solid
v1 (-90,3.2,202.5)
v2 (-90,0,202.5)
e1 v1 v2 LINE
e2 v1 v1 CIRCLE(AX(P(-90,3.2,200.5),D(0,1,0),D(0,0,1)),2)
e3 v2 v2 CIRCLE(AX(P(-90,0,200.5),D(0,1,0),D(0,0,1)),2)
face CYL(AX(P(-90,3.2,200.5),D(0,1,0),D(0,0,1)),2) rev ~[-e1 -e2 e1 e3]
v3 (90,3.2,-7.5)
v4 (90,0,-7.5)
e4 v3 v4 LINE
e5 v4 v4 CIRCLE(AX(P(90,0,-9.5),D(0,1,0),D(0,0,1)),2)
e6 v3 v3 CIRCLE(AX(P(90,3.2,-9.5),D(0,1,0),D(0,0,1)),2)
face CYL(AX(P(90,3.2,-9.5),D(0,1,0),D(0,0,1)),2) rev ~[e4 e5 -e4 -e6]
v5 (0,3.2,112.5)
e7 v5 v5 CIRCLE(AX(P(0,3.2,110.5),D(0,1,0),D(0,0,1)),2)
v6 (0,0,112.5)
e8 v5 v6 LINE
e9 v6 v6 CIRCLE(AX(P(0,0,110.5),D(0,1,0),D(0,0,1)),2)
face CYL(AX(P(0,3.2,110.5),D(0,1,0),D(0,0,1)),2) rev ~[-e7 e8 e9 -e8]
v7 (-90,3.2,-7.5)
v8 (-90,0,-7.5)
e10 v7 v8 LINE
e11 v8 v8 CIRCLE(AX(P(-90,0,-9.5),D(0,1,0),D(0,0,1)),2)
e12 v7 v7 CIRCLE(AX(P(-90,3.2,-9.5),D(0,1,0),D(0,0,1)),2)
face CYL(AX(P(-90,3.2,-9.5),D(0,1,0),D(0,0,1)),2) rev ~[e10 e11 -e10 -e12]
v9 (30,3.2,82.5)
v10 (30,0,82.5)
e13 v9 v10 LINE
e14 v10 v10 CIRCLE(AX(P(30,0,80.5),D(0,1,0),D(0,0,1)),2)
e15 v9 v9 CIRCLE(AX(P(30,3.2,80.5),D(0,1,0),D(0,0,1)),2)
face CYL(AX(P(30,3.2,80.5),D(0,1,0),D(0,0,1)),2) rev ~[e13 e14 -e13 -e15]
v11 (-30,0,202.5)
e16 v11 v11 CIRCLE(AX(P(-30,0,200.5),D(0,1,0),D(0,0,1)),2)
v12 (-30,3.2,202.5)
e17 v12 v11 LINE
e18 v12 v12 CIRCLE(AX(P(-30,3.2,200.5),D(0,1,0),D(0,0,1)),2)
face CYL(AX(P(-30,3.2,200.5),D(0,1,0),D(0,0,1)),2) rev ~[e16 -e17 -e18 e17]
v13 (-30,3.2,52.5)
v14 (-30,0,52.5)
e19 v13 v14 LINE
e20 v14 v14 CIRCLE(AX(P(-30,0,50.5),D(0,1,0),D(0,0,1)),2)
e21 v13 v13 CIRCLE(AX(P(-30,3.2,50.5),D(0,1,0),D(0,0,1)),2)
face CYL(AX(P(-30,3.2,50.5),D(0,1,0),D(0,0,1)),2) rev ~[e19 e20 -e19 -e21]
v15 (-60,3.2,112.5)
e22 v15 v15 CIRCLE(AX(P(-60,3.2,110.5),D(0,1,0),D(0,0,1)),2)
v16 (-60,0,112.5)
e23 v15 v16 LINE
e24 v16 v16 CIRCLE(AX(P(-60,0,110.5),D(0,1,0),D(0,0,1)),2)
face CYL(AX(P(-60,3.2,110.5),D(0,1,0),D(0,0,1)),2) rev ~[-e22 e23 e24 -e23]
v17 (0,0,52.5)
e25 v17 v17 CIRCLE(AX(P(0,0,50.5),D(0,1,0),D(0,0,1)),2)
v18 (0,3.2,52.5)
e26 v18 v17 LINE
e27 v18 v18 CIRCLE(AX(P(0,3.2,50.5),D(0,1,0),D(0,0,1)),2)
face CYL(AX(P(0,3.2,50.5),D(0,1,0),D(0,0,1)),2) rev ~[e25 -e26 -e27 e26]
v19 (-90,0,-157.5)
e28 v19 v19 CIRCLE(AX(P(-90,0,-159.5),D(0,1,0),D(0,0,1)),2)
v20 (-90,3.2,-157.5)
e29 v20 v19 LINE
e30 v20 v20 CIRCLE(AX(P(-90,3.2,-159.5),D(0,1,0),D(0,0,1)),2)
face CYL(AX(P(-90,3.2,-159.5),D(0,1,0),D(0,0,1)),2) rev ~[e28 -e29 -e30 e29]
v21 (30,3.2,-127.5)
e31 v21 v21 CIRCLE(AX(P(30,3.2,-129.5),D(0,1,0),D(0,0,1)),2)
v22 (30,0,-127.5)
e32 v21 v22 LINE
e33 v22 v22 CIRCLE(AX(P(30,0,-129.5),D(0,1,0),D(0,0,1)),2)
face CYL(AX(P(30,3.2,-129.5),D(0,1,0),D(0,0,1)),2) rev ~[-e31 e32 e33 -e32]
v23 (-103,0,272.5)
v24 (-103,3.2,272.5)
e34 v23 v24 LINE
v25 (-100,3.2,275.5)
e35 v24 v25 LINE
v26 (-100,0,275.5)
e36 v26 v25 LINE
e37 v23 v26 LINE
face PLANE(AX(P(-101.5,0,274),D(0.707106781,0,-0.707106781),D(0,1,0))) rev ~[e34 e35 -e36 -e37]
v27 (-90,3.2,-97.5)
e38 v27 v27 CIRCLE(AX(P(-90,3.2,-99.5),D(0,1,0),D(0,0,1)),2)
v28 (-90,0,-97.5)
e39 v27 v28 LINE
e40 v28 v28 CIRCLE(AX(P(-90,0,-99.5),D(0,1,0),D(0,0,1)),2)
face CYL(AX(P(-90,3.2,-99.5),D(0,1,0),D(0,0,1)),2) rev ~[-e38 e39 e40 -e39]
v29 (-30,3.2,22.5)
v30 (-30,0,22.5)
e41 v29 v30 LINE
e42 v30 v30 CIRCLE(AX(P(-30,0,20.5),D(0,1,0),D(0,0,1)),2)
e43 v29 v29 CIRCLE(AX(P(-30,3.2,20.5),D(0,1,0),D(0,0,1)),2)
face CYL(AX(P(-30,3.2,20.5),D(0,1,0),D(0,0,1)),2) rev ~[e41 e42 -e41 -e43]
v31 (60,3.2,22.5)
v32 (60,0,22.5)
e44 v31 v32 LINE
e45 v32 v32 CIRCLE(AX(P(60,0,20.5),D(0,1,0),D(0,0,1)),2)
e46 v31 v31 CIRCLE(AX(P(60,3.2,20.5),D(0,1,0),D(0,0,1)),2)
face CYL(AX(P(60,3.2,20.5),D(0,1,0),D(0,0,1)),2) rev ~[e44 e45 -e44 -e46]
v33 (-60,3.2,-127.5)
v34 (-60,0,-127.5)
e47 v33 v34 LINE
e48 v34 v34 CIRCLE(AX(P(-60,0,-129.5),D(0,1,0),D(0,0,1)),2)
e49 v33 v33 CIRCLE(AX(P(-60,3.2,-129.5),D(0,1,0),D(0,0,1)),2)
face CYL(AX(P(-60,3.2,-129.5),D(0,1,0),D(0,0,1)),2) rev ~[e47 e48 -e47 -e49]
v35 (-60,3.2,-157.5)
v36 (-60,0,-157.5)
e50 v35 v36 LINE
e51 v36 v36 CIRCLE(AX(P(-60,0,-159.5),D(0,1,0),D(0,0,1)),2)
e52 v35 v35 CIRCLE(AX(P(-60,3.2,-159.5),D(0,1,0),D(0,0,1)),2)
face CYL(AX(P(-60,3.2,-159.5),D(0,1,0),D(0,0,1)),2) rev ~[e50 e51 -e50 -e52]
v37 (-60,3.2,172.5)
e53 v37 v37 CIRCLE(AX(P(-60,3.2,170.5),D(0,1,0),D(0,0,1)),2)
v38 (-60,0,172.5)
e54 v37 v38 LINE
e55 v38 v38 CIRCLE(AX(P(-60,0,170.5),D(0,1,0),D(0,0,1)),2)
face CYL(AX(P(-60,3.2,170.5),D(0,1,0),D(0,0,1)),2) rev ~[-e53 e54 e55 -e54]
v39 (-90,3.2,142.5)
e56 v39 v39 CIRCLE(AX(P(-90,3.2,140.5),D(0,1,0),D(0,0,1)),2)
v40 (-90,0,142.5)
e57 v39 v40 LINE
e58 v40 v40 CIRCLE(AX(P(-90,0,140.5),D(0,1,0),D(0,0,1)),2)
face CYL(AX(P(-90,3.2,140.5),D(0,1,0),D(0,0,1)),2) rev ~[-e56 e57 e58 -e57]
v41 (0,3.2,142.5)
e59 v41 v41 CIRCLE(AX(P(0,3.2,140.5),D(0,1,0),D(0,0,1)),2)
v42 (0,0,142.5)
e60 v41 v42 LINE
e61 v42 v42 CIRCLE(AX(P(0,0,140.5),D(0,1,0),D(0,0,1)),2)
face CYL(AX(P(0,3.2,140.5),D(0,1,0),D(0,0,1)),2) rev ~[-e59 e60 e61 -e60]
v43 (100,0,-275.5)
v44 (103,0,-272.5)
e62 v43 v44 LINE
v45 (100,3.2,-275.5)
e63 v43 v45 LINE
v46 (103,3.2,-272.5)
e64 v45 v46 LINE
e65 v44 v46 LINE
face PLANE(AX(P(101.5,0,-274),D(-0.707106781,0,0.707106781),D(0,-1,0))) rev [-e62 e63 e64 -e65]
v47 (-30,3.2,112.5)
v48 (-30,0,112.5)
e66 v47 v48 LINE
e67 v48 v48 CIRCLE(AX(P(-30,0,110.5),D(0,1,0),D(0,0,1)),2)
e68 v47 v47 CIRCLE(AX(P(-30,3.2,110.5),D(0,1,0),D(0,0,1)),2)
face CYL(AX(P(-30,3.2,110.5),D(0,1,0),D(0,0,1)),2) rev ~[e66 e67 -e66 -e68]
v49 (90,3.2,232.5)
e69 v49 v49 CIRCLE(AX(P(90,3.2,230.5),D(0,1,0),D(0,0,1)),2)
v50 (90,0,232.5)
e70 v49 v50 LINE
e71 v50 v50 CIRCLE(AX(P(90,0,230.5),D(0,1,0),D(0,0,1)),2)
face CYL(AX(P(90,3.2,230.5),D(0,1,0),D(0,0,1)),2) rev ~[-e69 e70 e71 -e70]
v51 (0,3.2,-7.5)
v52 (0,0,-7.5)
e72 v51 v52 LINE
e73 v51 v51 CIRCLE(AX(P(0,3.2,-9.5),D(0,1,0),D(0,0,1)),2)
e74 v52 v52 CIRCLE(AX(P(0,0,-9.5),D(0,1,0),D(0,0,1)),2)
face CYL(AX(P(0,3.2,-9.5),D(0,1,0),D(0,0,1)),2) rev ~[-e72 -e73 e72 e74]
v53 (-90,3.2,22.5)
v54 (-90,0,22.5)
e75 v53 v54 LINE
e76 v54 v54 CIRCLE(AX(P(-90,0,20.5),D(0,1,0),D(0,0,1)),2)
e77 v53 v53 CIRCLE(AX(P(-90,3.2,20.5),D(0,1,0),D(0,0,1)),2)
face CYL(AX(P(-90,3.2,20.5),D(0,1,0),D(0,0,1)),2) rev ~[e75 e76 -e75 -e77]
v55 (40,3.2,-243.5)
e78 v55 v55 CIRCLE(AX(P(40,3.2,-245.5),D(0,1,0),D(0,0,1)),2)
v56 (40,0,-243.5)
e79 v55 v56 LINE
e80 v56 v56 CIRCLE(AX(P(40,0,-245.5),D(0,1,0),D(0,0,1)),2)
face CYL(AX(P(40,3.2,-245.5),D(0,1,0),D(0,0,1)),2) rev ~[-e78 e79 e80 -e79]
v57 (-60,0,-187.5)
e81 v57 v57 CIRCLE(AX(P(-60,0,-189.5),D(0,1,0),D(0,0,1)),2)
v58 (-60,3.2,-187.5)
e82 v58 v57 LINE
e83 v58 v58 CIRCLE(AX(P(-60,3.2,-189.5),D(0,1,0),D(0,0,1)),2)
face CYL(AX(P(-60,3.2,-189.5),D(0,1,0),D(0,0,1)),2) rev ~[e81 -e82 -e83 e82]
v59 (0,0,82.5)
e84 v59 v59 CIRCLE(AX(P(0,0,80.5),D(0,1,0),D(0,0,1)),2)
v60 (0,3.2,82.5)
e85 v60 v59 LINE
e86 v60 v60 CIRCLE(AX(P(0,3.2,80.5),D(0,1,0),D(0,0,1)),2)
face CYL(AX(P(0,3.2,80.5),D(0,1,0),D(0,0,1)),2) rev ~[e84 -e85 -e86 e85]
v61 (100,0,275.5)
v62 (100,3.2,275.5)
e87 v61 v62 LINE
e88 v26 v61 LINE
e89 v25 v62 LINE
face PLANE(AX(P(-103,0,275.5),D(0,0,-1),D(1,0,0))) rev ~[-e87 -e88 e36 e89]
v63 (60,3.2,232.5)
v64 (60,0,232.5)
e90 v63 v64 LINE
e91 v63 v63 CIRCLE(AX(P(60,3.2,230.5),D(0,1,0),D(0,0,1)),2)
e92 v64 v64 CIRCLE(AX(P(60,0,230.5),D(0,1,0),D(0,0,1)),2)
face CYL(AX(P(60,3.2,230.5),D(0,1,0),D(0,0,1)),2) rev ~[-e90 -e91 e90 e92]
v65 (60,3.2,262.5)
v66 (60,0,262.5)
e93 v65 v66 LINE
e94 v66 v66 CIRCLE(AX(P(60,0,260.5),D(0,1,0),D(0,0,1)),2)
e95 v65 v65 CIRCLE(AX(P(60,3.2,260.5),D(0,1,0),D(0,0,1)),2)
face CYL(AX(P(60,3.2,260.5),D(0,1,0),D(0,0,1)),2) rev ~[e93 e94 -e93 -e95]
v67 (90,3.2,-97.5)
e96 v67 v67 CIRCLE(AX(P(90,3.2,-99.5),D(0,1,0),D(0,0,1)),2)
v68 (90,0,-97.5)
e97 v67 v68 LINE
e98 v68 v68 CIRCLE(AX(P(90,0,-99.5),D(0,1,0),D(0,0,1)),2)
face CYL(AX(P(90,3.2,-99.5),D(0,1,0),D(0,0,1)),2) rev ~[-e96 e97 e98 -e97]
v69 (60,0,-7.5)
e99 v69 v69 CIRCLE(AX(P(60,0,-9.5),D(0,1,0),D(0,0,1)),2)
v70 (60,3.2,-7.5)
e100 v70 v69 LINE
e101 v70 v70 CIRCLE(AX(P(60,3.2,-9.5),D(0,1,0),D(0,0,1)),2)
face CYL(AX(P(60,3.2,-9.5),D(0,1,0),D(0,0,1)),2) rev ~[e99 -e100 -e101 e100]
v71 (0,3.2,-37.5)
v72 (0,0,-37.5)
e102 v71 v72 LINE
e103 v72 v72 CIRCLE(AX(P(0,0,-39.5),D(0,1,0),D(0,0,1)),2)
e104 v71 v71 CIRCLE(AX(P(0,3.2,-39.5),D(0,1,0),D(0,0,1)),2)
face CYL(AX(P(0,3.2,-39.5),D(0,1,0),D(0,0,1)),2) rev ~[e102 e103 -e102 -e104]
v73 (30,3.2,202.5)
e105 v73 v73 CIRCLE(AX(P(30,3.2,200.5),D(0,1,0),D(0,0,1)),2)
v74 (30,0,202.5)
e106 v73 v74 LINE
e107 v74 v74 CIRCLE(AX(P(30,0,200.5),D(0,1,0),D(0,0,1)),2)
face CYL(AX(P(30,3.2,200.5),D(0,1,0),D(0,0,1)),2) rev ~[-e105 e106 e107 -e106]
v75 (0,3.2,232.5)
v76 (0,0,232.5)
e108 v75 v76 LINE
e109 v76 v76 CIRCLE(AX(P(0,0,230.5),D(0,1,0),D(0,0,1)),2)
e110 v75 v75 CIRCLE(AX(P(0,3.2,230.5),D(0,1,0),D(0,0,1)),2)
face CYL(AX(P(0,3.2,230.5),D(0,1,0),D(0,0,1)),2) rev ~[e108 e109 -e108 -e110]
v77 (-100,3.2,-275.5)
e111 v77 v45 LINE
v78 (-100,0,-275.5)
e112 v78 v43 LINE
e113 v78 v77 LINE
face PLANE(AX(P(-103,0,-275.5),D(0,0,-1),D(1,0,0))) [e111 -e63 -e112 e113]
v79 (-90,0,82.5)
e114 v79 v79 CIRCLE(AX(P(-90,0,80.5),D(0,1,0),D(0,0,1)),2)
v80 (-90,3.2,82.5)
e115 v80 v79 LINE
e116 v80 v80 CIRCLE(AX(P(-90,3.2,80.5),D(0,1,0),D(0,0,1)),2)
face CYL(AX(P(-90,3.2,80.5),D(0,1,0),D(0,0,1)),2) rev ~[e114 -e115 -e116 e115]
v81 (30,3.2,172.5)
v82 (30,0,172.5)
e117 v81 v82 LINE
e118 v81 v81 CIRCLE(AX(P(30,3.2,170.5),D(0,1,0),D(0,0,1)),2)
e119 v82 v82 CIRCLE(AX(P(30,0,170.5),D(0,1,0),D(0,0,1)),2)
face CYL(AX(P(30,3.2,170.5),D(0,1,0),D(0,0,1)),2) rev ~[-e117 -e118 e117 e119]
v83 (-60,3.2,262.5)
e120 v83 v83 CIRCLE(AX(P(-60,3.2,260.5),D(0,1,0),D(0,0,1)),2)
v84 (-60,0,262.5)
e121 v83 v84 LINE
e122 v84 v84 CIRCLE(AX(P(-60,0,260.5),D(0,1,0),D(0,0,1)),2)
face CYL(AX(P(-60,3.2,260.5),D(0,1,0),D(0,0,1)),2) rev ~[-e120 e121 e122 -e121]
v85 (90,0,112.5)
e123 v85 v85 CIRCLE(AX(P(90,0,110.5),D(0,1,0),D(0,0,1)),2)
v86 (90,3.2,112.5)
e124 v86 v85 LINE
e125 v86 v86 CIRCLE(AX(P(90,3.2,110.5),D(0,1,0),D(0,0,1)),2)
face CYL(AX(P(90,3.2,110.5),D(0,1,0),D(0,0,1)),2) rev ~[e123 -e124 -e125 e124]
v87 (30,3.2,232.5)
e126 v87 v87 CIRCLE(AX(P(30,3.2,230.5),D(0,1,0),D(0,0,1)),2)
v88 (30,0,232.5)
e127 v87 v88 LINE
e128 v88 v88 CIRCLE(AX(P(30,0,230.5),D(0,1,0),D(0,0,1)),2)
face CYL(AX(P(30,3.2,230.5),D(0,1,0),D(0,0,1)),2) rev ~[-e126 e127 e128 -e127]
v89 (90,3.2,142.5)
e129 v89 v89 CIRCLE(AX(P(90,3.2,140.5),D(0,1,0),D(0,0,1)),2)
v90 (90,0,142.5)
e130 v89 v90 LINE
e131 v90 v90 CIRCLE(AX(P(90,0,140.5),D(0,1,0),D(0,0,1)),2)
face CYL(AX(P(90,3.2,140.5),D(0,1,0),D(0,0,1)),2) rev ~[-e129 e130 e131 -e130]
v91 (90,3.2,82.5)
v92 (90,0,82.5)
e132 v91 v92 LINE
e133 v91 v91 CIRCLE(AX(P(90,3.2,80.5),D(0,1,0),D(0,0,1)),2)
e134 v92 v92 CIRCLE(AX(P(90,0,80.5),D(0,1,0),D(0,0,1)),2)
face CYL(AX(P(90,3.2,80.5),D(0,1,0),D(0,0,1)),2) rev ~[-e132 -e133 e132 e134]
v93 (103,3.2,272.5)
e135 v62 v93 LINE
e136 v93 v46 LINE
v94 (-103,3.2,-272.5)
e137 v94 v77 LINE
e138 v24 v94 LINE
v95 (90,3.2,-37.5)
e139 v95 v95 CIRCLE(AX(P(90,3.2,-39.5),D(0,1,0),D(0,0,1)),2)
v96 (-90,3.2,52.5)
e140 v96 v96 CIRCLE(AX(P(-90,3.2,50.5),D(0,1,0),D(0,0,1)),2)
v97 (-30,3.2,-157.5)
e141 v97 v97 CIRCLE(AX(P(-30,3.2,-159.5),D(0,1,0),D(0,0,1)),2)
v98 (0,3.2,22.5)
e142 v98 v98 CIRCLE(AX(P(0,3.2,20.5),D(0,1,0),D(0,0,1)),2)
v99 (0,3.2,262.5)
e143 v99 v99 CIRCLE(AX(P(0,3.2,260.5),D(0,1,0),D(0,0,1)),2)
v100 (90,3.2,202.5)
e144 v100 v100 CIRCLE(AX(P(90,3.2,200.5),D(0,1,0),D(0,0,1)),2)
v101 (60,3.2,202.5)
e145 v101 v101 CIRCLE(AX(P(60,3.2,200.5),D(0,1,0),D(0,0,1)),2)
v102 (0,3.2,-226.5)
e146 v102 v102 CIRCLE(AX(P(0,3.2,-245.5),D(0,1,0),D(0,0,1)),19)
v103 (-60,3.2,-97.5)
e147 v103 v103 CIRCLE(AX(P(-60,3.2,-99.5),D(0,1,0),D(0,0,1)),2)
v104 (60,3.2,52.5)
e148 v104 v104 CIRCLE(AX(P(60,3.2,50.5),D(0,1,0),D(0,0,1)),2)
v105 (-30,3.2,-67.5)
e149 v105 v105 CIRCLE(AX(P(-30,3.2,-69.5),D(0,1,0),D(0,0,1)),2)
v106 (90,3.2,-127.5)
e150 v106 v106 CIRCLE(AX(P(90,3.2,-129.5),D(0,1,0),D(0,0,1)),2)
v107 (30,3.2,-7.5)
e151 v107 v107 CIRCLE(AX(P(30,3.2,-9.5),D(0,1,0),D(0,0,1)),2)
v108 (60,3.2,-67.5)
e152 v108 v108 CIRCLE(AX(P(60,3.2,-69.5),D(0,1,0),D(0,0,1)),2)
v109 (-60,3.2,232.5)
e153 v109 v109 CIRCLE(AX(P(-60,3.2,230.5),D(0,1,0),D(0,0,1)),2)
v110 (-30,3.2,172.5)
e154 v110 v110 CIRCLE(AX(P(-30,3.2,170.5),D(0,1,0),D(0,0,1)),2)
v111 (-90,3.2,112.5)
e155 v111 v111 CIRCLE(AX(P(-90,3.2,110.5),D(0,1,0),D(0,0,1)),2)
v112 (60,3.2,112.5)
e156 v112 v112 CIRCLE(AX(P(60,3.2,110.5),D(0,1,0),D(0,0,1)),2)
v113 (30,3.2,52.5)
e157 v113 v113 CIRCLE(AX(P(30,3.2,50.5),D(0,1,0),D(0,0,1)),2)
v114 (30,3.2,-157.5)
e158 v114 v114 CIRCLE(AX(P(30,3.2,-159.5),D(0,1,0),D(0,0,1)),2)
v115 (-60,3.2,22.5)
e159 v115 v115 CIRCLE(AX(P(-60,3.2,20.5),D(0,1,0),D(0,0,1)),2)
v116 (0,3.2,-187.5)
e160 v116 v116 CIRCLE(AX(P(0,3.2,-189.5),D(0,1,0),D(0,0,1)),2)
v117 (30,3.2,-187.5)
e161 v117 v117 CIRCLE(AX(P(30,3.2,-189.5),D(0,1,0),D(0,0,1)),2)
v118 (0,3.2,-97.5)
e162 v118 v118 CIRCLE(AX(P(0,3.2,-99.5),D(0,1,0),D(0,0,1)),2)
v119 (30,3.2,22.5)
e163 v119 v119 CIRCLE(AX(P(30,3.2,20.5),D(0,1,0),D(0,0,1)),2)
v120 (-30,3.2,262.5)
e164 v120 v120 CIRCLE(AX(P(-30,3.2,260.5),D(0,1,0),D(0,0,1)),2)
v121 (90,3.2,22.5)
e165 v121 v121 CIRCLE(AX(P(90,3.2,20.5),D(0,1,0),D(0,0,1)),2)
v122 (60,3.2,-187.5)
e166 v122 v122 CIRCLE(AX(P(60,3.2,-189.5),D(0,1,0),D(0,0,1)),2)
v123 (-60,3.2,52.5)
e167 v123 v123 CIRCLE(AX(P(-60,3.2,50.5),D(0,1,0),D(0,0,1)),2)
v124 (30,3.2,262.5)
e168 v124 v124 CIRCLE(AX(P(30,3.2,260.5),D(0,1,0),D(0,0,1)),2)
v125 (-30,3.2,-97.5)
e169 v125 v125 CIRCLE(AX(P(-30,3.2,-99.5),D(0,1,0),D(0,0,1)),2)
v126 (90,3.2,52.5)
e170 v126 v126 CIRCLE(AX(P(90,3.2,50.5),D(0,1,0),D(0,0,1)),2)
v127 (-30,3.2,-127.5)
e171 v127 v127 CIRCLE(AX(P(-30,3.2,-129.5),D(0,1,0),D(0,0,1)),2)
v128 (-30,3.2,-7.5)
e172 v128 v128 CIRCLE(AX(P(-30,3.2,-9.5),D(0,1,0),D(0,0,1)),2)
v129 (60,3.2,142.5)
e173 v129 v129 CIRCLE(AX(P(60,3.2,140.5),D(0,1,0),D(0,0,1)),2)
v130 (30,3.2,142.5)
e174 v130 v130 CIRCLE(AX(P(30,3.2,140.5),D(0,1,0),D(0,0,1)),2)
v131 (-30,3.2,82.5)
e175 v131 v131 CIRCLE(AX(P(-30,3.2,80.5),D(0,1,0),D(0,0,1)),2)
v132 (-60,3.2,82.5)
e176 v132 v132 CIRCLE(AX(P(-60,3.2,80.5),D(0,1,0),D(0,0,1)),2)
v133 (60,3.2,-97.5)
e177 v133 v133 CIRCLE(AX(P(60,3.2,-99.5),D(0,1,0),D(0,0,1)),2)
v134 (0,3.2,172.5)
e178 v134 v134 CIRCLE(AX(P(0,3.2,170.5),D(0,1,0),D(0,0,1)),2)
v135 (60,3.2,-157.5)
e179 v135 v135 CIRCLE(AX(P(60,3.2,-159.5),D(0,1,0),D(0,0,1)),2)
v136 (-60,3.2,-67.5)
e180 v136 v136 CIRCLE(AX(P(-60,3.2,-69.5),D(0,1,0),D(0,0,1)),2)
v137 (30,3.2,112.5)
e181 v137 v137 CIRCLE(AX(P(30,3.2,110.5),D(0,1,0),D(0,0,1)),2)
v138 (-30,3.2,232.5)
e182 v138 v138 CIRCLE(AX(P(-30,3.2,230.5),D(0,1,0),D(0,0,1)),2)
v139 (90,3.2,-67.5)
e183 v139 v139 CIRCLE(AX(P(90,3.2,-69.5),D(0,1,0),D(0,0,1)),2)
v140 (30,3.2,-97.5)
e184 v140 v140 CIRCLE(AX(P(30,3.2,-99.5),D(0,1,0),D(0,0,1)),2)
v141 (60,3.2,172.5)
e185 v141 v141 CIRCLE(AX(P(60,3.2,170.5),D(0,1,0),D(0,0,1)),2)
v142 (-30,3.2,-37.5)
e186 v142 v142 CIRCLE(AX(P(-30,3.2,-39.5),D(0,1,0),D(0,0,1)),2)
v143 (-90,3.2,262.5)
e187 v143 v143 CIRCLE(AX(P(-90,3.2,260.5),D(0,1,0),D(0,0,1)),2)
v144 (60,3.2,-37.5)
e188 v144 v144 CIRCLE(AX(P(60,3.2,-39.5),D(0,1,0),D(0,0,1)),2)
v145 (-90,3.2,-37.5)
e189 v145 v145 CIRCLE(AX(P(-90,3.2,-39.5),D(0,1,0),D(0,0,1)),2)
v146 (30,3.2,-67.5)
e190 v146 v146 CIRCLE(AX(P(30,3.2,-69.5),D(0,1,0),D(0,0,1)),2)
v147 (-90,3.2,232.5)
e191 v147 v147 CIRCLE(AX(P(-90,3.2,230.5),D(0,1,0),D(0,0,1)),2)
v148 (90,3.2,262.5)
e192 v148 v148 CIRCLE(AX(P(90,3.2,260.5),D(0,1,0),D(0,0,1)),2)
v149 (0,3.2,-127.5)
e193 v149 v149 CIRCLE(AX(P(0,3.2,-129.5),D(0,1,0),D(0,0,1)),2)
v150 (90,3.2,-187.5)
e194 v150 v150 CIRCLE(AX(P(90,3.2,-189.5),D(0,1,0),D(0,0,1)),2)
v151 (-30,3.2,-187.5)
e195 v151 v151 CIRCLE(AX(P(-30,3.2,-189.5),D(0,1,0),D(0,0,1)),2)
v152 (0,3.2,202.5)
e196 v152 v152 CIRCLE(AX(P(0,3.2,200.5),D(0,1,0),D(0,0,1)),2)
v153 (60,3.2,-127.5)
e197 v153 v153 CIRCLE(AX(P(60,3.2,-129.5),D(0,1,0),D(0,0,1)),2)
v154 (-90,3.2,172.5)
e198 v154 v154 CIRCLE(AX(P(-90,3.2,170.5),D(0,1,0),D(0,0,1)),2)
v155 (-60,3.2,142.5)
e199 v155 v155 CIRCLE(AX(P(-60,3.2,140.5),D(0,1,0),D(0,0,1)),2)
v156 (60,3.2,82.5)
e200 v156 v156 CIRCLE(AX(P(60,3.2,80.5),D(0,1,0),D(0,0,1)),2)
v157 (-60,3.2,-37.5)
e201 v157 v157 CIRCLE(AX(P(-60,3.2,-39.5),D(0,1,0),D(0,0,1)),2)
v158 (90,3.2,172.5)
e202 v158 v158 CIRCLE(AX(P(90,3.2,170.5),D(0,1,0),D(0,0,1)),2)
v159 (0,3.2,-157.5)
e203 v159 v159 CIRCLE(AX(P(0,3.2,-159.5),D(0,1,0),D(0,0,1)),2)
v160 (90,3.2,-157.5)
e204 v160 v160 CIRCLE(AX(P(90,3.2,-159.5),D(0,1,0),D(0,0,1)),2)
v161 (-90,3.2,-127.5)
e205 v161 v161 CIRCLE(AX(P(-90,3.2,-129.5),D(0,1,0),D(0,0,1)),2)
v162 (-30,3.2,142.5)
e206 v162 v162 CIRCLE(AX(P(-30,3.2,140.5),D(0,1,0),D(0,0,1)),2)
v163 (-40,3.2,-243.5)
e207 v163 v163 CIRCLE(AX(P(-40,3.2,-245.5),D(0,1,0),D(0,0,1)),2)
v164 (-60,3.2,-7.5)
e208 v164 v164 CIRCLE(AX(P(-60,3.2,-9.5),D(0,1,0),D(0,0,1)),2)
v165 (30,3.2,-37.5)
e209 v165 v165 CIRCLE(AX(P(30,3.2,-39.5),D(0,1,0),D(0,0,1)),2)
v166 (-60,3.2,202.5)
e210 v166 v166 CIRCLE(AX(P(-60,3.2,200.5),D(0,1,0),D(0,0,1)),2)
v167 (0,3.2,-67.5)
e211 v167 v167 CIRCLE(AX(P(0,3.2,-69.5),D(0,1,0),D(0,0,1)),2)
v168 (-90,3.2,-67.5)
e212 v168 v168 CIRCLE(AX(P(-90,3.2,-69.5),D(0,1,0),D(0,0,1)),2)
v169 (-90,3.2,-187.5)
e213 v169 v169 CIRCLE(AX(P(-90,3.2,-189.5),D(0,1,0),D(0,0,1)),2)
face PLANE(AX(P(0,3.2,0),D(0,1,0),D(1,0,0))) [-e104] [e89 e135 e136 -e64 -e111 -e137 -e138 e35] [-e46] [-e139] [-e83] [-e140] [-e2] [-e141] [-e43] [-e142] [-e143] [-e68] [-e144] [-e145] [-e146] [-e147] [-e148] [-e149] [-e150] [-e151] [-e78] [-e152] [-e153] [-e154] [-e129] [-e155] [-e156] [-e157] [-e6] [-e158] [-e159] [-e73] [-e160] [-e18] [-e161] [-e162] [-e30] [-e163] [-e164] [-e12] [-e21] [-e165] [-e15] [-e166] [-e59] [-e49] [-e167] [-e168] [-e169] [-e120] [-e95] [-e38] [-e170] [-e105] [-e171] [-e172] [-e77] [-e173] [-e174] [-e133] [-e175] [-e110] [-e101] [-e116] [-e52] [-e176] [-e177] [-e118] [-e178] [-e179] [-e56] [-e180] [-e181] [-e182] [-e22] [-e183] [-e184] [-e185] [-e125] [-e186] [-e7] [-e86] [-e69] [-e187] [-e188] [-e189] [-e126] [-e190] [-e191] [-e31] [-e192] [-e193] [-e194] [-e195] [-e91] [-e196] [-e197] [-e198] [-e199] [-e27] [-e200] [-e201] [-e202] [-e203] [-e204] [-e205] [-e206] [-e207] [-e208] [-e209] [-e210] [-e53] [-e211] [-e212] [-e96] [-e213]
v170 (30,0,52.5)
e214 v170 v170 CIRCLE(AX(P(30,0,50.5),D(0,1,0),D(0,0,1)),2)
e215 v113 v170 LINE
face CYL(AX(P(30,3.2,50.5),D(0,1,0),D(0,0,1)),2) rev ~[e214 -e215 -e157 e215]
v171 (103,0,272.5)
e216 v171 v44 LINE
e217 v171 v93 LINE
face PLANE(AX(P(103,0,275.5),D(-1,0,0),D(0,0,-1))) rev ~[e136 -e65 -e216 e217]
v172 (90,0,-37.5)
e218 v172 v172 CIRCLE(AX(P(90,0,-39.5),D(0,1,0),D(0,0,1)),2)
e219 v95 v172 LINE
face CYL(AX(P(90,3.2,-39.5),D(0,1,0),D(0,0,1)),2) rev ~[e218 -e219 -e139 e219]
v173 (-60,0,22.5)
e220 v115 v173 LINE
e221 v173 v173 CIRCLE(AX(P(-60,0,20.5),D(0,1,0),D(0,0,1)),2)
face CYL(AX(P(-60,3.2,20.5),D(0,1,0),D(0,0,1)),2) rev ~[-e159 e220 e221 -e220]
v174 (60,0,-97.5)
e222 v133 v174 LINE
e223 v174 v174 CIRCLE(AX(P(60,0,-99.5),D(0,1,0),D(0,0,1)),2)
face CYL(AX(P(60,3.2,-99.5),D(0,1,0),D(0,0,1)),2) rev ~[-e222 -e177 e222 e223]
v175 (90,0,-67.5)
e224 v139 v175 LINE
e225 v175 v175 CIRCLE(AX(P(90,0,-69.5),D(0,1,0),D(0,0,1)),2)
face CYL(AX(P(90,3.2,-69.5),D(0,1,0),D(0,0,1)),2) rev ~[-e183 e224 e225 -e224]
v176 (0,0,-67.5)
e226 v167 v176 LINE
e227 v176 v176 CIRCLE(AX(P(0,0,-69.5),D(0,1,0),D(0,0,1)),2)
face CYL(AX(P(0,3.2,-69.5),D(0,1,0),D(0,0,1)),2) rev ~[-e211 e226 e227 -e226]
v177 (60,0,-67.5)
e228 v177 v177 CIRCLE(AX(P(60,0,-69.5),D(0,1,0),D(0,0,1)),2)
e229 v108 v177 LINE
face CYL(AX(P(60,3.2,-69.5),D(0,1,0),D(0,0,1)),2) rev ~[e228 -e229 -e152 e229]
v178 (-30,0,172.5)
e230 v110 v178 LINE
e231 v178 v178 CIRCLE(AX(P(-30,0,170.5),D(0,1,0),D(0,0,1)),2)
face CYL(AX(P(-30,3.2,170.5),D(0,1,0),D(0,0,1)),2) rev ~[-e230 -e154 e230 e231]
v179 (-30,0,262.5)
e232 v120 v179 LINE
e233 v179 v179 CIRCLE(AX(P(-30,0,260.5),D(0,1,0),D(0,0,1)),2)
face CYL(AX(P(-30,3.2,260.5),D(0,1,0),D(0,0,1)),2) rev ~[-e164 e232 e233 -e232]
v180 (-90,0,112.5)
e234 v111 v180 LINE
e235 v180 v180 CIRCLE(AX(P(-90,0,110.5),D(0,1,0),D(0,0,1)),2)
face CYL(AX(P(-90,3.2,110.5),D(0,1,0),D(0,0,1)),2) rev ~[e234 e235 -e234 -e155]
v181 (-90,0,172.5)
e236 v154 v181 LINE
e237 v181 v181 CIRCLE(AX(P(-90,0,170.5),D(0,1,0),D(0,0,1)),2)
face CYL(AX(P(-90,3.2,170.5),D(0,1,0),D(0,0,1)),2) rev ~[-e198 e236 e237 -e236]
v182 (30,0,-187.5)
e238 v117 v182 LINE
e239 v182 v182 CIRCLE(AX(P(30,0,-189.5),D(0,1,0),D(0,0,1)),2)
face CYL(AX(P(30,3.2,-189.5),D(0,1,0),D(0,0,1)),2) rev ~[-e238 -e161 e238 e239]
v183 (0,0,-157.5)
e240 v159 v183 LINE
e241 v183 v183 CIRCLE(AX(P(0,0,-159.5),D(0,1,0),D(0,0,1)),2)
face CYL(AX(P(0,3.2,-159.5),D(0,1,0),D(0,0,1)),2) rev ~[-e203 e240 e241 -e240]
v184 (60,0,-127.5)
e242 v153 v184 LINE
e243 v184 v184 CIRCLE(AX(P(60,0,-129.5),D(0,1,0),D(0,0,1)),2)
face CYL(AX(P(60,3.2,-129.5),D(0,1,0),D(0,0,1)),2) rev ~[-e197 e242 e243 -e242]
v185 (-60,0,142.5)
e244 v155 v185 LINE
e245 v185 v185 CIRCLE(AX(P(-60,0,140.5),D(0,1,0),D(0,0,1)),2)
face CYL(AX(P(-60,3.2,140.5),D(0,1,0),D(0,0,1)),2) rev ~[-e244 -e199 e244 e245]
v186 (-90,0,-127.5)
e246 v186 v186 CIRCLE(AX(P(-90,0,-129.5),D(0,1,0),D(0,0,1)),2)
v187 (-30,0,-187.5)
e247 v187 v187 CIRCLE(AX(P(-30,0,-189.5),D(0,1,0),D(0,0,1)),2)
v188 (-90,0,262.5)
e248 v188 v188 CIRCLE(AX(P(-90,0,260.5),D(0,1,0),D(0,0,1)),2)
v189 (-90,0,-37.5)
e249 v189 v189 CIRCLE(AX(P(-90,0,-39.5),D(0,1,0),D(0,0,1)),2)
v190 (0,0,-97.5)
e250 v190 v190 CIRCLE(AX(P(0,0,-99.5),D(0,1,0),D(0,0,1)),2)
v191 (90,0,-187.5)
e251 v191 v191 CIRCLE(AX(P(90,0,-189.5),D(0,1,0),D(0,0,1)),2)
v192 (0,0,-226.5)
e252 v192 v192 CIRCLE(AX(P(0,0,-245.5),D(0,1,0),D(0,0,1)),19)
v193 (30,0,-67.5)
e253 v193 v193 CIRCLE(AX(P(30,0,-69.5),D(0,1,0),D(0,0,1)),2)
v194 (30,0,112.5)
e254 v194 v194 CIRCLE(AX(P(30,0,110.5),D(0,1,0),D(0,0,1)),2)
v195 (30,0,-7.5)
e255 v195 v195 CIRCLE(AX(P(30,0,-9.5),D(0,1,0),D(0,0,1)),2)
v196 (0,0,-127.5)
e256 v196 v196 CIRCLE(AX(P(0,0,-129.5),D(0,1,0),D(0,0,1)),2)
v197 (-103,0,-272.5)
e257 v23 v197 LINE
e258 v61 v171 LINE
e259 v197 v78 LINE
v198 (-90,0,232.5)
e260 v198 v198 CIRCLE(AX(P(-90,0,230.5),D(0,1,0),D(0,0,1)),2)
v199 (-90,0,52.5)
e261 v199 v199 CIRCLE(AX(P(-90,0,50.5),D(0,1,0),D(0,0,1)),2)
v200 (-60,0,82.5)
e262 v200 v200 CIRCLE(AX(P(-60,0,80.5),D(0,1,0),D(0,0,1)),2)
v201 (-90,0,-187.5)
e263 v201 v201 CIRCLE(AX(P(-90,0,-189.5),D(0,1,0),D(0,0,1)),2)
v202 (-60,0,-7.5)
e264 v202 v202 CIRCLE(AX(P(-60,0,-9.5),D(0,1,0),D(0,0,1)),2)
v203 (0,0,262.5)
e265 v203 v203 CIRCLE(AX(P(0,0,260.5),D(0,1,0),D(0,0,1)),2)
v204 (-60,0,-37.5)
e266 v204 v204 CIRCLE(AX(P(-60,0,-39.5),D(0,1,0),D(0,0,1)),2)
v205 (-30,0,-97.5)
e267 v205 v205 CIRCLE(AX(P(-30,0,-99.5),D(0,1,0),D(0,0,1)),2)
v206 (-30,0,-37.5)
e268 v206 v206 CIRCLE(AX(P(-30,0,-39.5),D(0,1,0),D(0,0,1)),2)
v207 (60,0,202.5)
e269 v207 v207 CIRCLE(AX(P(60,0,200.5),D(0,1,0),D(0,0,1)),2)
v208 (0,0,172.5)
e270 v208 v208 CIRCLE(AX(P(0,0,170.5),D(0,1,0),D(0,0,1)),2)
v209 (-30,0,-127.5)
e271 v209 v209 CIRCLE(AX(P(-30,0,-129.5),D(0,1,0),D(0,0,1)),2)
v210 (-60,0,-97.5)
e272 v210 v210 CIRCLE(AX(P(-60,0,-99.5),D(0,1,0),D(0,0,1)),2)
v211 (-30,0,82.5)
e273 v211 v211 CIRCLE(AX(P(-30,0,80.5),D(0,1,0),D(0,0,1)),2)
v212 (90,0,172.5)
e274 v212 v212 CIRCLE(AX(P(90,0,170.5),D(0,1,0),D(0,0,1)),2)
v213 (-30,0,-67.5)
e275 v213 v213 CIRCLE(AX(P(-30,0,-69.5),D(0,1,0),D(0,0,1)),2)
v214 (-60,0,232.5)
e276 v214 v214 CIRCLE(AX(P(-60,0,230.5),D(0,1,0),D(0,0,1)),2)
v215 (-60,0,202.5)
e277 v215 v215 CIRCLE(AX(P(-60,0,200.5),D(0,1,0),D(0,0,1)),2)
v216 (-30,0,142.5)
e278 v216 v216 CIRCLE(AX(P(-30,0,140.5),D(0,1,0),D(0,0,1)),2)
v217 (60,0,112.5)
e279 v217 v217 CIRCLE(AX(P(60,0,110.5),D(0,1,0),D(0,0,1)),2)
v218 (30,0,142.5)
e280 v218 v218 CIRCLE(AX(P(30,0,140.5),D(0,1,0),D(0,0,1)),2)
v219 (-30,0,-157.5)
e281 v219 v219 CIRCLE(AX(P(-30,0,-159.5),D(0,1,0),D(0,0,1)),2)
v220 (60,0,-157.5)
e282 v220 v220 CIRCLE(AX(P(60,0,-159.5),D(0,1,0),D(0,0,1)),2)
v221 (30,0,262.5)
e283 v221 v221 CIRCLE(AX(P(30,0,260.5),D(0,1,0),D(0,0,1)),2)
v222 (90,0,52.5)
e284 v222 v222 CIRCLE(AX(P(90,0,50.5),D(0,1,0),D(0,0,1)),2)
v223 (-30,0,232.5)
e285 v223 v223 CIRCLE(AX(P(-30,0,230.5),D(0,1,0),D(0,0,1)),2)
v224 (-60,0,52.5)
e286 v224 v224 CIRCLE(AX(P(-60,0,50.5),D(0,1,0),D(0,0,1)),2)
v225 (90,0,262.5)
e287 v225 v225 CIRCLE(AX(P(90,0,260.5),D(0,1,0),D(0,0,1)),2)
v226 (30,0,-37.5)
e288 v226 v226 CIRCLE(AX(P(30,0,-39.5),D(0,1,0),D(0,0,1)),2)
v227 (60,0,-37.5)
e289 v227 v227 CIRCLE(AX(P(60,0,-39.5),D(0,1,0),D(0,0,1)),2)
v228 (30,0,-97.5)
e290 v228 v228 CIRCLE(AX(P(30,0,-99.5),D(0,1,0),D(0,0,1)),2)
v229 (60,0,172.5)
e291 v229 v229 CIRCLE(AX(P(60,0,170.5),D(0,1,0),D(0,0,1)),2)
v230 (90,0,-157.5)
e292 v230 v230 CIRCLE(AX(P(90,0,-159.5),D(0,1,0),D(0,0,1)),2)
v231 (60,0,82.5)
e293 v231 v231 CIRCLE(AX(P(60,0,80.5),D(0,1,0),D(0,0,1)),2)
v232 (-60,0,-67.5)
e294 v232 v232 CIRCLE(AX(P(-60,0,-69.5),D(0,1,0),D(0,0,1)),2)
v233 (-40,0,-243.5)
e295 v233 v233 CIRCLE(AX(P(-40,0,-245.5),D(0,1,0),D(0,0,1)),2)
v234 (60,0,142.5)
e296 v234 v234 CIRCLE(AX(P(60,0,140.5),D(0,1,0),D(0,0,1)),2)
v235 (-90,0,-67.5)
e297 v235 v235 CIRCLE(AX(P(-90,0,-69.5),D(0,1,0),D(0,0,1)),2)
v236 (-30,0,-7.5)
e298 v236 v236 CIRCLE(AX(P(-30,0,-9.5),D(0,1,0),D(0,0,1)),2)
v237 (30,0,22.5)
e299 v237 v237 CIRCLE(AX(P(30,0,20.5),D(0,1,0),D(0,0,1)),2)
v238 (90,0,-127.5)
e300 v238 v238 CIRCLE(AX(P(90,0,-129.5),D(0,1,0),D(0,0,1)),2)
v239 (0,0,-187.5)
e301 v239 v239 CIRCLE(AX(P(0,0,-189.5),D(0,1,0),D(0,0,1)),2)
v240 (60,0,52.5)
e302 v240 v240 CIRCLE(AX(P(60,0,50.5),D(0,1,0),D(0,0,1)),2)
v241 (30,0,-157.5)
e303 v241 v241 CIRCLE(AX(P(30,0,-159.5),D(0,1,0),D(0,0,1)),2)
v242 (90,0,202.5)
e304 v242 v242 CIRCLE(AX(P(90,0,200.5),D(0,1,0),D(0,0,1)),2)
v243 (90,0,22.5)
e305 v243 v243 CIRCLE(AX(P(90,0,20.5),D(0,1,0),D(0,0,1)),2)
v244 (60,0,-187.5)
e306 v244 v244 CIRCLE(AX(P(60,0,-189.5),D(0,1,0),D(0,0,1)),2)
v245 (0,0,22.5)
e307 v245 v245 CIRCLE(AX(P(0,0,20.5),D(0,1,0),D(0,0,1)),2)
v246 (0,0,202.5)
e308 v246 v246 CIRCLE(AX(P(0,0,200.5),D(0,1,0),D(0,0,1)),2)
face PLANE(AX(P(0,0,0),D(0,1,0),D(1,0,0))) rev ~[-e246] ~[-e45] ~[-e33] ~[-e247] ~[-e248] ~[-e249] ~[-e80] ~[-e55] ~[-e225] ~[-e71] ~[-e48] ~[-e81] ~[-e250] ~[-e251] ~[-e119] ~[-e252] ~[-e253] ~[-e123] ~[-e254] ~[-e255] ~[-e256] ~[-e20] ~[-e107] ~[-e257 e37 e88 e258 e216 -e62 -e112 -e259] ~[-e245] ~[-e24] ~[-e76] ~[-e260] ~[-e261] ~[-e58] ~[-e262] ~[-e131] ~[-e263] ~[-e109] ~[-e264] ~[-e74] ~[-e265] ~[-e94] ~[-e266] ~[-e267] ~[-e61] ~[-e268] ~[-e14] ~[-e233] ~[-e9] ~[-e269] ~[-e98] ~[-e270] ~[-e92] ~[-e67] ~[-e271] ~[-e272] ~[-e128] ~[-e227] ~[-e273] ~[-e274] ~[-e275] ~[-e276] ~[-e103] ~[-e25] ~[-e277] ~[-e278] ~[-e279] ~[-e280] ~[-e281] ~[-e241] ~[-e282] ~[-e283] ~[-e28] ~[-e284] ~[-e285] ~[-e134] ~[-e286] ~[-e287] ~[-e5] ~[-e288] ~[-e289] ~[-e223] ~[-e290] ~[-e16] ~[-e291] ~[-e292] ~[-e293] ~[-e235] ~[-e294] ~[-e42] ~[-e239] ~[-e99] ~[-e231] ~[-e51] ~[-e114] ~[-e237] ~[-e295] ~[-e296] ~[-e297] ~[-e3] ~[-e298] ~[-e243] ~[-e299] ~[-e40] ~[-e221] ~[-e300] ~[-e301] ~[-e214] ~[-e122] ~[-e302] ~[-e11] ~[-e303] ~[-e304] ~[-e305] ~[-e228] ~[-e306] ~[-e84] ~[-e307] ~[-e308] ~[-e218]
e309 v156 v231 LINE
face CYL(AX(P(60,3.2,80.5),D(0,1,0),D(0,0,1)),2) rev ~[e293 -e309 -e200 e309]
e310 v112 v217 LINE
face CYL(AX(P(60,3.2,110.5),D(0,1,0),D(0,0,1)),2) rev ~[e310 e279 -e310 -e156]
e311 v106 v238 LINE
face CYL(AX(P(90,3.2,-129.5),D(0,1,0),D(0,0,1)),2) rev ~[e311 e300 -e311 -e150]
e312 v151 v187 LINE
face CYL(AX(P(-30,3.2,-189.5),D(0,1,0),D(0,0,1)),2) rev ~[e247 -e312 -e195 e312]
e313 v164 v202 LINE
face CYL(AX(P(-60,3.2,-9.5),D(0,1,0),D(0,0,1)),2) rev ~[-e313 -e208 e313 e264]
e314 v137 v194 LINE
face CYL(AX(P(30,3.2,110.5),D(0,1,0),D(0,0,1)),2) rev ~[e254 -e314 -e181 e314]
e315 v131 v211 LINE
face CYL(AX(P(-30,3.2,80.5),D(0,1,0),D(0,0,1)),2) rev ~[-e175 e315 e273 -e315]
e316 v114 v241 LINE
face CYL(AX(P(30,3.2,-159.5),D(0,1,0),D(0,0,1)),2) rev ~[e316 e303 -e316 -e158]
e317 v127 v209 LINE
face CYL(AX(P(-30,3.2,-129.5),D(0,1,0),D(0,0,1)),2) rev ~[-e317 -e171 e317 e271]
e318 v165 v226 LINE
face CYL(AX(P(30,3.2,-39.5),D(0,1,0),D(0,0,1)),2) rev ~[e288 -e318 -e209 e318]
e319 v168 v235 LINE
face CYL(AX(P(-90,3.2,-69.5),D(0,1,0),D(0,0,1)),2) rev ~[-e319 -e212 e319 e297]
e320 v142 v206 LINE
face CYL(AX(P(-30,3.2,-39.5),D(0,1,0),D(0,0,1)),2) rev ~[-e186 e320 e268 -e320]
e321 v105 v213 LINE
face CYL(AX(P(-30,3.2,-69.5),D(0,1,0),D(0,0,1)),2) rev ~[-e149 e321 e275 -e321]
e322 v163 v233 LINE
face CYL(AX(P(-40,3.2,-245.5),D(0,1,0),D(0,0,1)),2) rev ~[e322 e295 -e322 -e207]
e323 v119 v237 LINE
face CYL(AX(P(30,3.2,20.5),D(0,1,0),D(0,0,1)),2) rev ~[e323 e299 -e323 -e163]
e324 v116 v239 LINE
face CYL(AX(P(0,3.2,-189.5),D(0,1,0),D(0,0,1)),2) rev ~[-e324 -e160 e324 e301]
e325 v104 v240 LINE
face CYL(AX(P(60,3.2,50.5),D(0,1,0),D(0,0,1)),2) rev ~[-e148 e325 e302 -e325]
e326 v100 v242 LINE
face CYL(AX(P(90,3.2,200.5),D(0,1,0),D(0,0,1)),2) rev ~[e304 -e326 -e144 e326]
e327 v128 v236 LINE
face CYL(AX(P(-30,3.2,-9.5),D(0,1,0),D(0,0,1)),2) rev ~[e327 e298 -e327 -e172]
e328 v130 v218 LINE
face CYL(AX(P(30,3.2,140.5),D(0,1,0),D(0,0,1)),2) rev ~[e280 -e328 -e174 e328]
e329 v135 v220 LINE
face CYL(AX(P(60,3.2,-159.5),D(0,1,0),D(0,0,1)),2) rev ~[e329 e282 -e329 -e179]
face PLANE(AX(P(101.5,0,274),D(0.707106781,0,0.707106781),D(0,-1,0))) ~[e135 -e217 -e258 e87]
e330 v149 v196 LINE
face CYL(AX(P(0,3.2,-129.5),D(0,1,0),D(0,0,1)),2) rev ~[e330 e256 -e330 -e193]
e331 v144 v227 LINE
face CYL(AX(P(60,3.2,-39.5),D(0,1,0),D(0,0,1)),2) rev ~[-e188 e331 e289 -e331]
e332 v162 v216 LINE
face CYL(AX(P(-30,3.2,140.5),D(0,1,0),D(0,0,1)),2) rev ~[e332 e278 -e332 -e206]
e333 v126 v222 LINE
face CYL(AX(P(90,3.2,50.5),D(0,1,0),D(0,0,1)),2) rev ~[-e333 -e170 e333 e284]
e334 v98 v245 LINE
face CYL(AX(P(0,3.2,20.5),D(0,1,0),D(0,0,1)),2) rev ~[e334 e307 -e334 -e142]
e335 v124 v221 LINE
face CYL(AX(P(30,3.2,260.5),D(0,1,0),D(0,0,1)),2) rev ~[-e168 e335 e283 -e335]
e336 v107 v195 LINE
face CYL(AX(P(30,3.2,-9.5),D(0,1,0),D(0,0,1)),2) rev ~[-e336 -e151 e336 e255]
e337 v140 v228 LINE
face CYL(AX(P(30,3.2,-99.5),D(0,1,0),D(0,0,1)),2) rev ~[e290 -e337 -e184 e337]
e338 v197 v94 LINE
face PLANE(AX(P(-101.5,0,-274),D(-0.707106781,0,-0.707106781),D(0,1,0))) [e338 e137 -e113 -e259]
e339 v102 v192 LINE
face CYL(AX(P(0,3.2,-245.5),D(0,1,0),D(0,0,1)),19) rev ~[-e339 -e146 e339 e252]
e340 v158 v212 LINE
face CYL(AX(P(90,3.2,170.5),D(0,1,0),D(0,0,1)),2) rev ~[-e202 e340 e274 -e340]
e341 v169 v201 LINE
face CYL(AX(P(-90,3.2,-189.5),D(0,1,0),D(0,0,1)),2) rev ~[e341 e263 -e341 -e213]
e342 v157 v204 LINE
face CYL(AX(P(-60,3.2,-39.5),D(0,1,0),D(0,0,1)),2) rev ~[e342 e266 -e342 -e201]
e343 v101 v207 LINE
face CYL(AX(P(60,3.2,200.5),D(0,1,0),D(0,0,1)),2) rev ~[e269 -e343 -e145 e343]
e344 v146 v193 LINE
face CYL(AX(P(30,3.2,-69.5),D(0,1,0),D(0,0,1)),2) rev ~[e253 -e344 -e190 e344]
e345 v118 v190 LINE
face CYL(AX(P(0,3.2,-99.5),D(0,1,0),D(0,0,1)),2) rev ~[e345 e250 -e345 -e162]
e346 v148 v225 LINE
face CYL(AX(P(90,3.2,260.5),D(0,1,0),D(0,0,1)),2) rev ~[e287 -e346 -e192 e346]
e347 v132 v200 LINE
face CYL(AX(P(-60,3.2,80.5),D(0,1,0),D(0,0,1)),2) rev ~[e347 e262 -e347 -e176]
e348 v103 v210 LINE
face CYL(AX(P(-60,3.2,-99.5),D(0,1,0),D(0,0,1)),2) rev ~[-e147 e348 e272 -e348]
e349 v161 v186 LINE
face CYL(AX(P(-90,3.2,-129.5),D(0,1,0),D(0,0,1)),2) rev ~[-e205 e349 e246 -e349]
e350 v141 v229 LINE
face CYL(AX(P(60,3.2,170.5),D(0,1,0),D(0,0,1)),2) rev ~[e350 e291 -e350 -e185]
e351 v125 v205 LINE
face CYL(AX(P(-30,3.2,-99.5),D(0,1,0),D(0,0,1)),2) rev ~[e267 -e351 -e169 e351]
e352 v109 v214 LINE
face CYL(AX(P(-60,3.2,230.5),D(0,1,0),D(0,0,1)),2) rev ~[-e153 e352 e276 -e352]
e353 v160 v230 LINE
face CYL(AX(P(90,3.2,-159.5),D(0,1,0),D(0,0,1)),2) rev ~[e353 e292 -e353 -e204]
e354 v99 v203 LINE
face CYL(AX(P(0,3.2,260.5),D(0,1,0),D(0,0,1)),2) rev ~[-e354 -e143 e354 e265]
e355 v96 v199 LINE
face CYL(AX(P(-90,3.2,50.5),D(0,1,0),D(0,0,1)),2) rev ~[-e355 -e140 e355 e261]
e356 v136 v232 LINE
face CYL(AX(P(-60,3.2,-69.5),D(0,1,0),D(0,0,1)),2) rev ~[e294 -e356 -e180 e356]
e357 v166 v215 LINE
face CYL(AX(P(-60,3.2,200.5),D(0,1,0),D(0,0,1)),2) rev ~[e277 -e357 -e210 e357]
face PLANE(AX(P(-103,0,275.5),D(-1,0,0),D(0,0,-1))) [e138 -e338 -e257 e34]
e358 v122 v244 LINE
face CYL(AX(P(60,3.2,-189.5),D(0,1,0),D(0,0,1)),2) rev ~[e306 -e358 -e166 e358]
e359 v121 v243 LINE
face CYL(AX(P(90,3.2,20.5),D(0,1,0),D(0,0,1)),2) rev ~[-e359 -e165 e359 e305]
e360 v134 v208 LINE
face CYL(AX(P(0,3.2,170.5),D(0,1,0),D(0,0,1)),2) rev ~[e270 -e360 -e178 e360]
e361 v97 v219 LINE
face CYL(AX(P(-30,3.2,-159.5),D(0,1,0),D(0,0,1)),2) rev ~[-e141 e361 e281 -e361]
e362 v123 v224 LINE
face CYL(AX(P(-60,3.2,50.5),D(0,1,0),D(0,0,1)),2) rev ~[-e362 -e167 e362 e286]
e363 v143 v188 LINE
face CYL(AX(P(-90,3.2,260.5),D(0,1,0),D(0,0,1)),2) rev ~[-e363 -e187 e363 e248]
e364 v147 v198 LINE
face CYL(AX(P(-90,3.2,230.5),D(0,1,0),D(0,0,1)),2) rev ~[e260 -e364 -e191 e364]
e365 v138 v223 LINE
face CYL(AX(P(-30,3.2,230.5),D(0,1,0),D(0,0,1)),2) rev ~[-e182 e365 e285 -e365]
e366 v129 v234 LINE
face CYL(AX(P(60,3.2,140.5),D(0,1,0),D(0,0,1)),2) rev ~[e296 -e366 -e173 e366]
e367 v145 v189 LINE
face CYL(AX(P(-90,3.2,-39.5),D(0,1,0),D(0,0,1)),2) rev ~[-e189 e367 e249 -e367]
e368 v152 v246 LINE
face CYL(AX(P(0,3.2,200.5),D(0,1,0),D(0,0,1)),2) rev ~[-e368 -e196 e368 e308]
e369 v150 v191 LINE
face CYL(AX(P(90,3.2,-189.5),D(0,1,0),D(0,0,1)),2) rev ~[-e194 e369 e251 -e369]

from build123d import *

# Parameters (mm, degrees)
SKETCH_1_W             = 206
SKETCH_1_H             = 551
EXTRUDE_1_DEPTH        = 3.2
SKETCH_2_R             = 19
SKETCH_2_R_2           = 2
CUT_EXTRUDE_1_DEPTH    = 295.141955525
SKETCH_3_R             = 2
CUT_EXTRUDE_1419_DEPTH = 295.141955525
CHAMFER_1_SIZE         = 3


with BuildPart() as part:
    # ｽｹｯﾁ1 → ﾎﾞｽ - 押し出し1 (new body)
    with BuildSketch(Plane(origin=(0, 0, 0), x_dir=(1, 0, 0), z_dir=(0, 1, 0))):
        Rectangle(SKETCH_1_W, SKETCH_1_H)
    extrude(amount=EXTRUDE_1_DEPTH)

    # ｽｹｯﾁ2 → ｶｯﾄ - 押し出し1 (cut, through all)
    with BuildSketch(Plane(origin=(0, 3.2, 0), x_dir=(1, 0, 0), z_dir=(0, 1, 0))):
        with Locations(Location((0, 245.5, 0), (0, 0, 270))):
            Circle(SKETCH_2_R)
        with Locations(Location((-40, 245.5, 0), (0, 0, 270))):
            Circle(SKETCH_2_R_2)
        with Locations(Location((40, 245.5, 0), (0, 0, 270))):
            Circle(SKETCH_2_R_2)
    extrude(amount=-CUT_EXTRUDE_1_DEPTH, mode=Mode.SUBTRACT)

    # ｽｹｯﾁ3 → Cut-Extrude 1419 (cut, through all)
    with BuildSketch(Plane(origin=(0, 3.2, 0), x_dir=(1, 0, 0), z_dir=(0, 1, 0))):
        with Locations(Location((-90, -260.5, 0), (0, 0, 270))):
            Circle(SKETCH_3_R)
        with Locations(Location((-60, -260.5, 0), (0, 0, 270))):
            Circle(SKETCH_3_R)
        with Locations(Location((-30, -260.5, 0), (0, 0, 270))):
            Circle(SKETCH_3_R)
        with Locations(Location((0, -260.5, 0), (0, 0, 270))):
            Circle(SKETCH_3_R)
        with Locations(Location((30, -260.5, 0), (0, 0, 270))):
            Circle(SKETCH_3_R)
        with Locations(Location((60, -260.5, 0), (0, 0, 270))):
            Circle(SKETCH_3_R)
        with Locations(Location((90, -260.5, 0), (0, 0, 270))):
            Circle(SKETCH_3_R)
        with Locations(Location((-60, -230.5, 0), (0, 0, 270))):
            Circle(SKETCH_3_R)
        with Locations(Location((-30, -230.5, 0), (0, 0, 270))):
            Circle(SKETCH_3_R)
        with Locations(Location((0, -230.5, 0), (0, 0, 270))):
            Circle(SKETCH_3_R)
        with Locations(Location((30, -230.5, 0), (0, 0, 270))):
            Circle(SKETCH_3_R)
        with Locations(Location((60, -230.5, 0), (0, 0, 270))):
            Circle(SKETCH_3_R)
        with Locations(Location((90, -230.5, 0), (0, 0, 270))):
            Circle(SKETCH_3_R)
        with Locations(Location((-60, -200.5, 0), (0, 0, 270))):
            Circle(SKETCH_3_R)
        with Locations(Location((-30, -200.5, 0), (0, 0, 270))):
            Circle(SKETCH_3_R)
        with Locations(Location((0, -200.5, 0), (0, 0, 270))):
            Circle(SKETCH_3_R)
        with Locations(Location((30, -200.5, 0), (0, 0, 270))):
            Circle(SKETCH_3_R)
        with Locations(Location((60, -200.5, 0), (0, 0, 270))):
            Circle(SKETCH_3_R)
        with Locations(Location((90, -200.5, 0), (0, 0, 270))):
            Circle(SKETCH_3_R)
        with Locations(Location((-60, -170.5, 0), (0, 0, 270))):
            Circle(SKETCH_3_R)
        with Locations(Location((-30, -170.5, 0), (0, 0, 270))):
            Circle(SKETCH_3_R)
        with Locations(Location((0, -170.5, 0), (0, 0, 270))):
            Circle(SKETCH_3_R)
        with Locations(Location((30, -170.5, 0), (0, 0, 270))):
            Circle(SKETCH_3_R)
        with Locations(Location((60, -170.5, 0), (0, 0, 270))):
            Circle(SKETCH_3_R)
        with Locations(Location((90, -170.5, 0), (0, 0, 270))):
            Circle(SKETCH_3_R)
        with Locations(Location((-60, -140.5, 0), (0, 0, 270))):
            Circle(SKETCH_3_R)
        with Locations(Location((-30, -140.5, 0), (0, 0, 270))):
            Circle(SKETCH_3_R)
        with Locations(Location((0, -140.5, 0), (0, 0, 270))):
            Circle(SKETCH_3_R)
        with Locations(Location((30, -140.5, 0), (0, 0, 270))):
            Circle(SKETCH_3_R)
        with Locations(Location((60, -140.5, 0), (0, 0, 270))):
            Circle(SKETCH_3_R)
        with Locations(Location((90, -140.5, 0), (0, 0, 270))):
            Circle(SKETCH_3_R)
        with Locations(Location((-60, -110.5, 0), (0, 0, 270))):
            Circle(SKETCH_3_R)
        with Locations(Location((-30, -110.5, 0), (0, 0, 270))):
            Circle(SKETCH_3_R)
        with Locations(Location((0, -110.5, 0), (0, 0, 270))):
            Circle(SKETCH_3_R)
        with Locations(Location((30, -110.5, 0), (0, 0, 270))):
            Circle(SKETCH_3_R)
        with Locations(Location((60, -110.5, 0), (0, 0, 270))):
            Circle(SKETCH_3_R)
        with Locations(Location((90, -110.5, 0), (0, 0, 270))):
            Circle(SKETCH_3_R)
        with Locations(Location((-90, -230.5, 0), (0, 0, 270))):
            Circle(SKETCH_3_R)
        with Locations(Location((-90, -200.5, 0), (0, 0, 270))):
            Circle(SKETCH_3_R)
        with Locations(Location((-90, -170.5, 0), (0, 0, 270))):
            Circle(SKETCH_3_R)
        with Locations(Location((-90, -140.5, 0), (0, 0, 270))):
            Circle(SKETCH_3_R)
        with Locations(Location((-90, -110.5, 0), (0, 0, 270))):
            Circle(SKETCH_3_R)
        with Locations(Location((-90, -80.5, 0), (0, 0, 270))):
            Circle(SKETCH_3_R)
        with Locations(Location((-60, -80.5, 0), (0, 0, 270))):
            Circle(SKETCH_3_R)
        with Locations(Location((-30, -80.5, 0), (0, 0, 270))):
            Circle(SKETCH_3_R)
        with Locations(Location((0, -80.5, 0), (0, 0, 270))):
            Circle(SKETCH_3_R)
        with Locations(Location((30, -80.5, 0), (0, 0, 270))):
            Circle(SKETCH_3_R)
        with Locations(Location((60, -80.5, 0), (0, 0, 270))):
            Circle(SKETCH_3_R)
        with Locations(Location((90, -80.5, 0), (0, 0, 270))):
            Circle(SKETCH_3_R)
        with Locations(Location((-90, -50.5, 0), (0, 0, 270))):
            Circle(SKETCH_3_R)
        with Locations(Location((-60, -50.5, 0), (0, 0, 270))):
            Circle(SKETCH_3_R)
        with Locations(Location((-30, -50.5, 0), (0, 0, 270))):
            Circle(SKETCH_3_R)
        with Locations(Location((0, -50.5, 0), (0, 0, 270))):
            Circle(SKETCH_3_R)
        with Locations(Location((30, -50.5, 0), (0, 0, 270))):
            Circle(SKETCH_3_R)
        with Locations(Location((60, -50.5, 0), (0, 0, 270))):
            Circle(SKETCH_3_R)
        with Locations(Location((90, -50.5, 0), (0, 0, 270))):
            Circle(SKETCH_3_R)
        with Locations(Location((-90, -20.5, 0), (0, 0, 270))):
            Circle(SKETCH_3_R)
        with Locations(Location((-60, -20.5, 0), (0, 0, 270))):
            Circle(SKETCH_3_R)
        with Locations(Location((-30, -20.5, 0), (0, 0, 270))):
            Circle(SKETCH_3_R)
        with Locations(Location((0, -20.5, 0), (0, 0, 270))):
            Circle(SKETCH_3_R)
        with Locations(Location((30, -20.5, 0), (0, 0, 270))):
            Circle(SKETCH_3_R)
        with Locations(Location((60, -20.5, 0), (0, 0, 270))):
            Circle(SKETCH_3_R)
        with Locations(Location((90, -20.5, 0), (0, 0, 270))):
            Circle(SKETCH_3_R)
        with Locations(Location((-90, 9.5, 0), (0, 0, 270))):
            Circle(SKETCH_3_R)
        with Locations(Location((-60, 9.5, 0), (0, 0, 270))):
            Circle(SKETCH_3_R)
        with Locations(Location((-30, 9.5, 0), (0, 0, 270))):
            Circle(SKETCH_3_R)
        with Locations(Location((0, 9.5, 0), (0, 0, 270))):
            Circle(SKETCH_3_R)
        with Locations(Location((30, 9.5, 0), (0, 0, 270))):
            Circle(SKETCH_3_R)
        with Locations(Location((60, 9.5, 0), (0, 0, 270))):
            Circle(SKETCH_3_R)
        with Locations(Location((90, 9.5, 0), (0, 0, 270))):
            Circle(SKETCH_3_R)
        with Locations(Location((-90, 39.5, 0), (0, 0, 270))):
            Circle(SKETCH_3_R)
        with Locations(Location((-60, 39.5, 0), (0, 0, 270))):
            Circle(SKETCH_3_R)
        with Locations(Location((-30, 39.5, 0), (0, 0, 270))):
            Circle(SKETCH_3_R)
        with Locations(Location((0, 39.5, 0), (0, 0, 270))):
            Circle(SKETCH_3_R)
        with Locations(Location((30, 39.5, 0), (0, 0, 270))):
            Circle(SKETCH_3_R)
        with Locations(Location((60, 39.5, 0), (0, 0, 270))):
            Circle(SKETCH_3_R)
        with Locations(Location((90, 39.5, 0), (0, 0, 270))):
            Circle(SKETCH_3_R)
        with Locations(Location((-90, 69.5, 0), (0, 0, 270))):
            Circle(SKETCH_3_R)
        with Locations(Location((-60, 69.5, 0), (0, 0, 270))):
            Circle(SKETCH_3_R)
        with Locations(Location((-30, 69.5, 0), (0, 0, 270))):
            Circle(SKETCH_3_R)
        with Locations(Location((0, 69.5, 0), (0, 0, 270))):
            Circle(SKETCH_3_R)
        with Locations(Location((30, 69.5, 0), (0, 0, 270))):
            Circle(SKETCH_3_R)
        with Locations(Location((60, 69.5, 0), (0, 0, 270))):
            Circle(SKETCH_3_R)
        with Locations(Location((90, 69.5, 0), (0, 0, 270))):
            Circle(SKETCH_3_R)
        with Locations(Location((-90, 99.5, 0), (0, 0, 270))):
            Circle(SKETCH_3_R)
        with Locations(Location((-60, 99.5, 0), (0, 0, 270))):
            Circle(SKETCH_3_R)
        with Locations(Location((-30, 99.5, 0), (0, 0, 270))):
            Circle(SKETCH_3_R)
        with Locations(Location((0, 99.5, 0), (0, 0, 270))):
            Circle(SKETCH_3_R)
        with Locations(Location((30, 99.5, 0), (0, 0, 270))):
            Circle(SKETCH_3_R)
        with Locations(Location((60, 99.5, 0), (0, 0, 270))):
            Circle(SKETCH_3_R)
        with Locations(Location((90, 99.5, 0), (0, 0, 270))):
            Circle(SKETCH_3_R)
        with Locations(Location((-90, 129.5, 0), (0, 0, 270))):
            Circle(SKETCH_3_R)
        with Locations(Location((-60, 129.5, 0), (0, 0, 270))):
            Circle(SKETCH_3_R)
        with Locations(Location((-30, 129.5, 0), (0, 0, 270))):
            Circle(SKETCH_3_R)
        with Locations(Location((0, 129.5, 0), (0, 0, 270))):
            Circle(SKETCH_3_R)
        with Locations(Location((30, 129.5, 0), (0, 0, 270))):
            Circle(SKETCH_3_R)
        with Locations(Location((60, 129.5, 0), (0, 0, 270))):
            Circle(SKETCH_3_R)
        with Locations(Location((90, 129.5, 0), (0, 0, 270))):
            Circle(SKETCH_3_R)
        with Locations(Location((-90, 159.5, 0), (0, 0, 270))):
            Circle(SKETCH_3_R)
        with Locations(Location((-60, 159.5, 0), (0, 0, 270))):
            Circle(SKETCH_3_R)
        with Locations(Location((-30, 159.5, 0), (0, 0, 270))):
            Circle(SKETCH_3_R)
        with Locations(Location((0, 159.5, 0), (0, 0, 270))):
            Circle(SKETCH_3_R)
        with Locations(Location((30, 159.5, 0), (0, 0, 270))):
            Circle(SKETCH_3_R)
        with Locations(Location((60, 159.5, 0), (0, 0, 270))):
            Circle(SKETCH_3_R)
        with Locations(Location((90, 159.5, 0), (0, 0, 270))):
            Circle(SKETCH_3_R)
        with Locations(Location((-90, 189.5, 0), (0, 0, 270))):
            Circle(SKETCH_3_R)
        with Locations(Location((-60, 189.5, 0), (0, 0, 270))):
            Circle(SKETCH_3_R)
        with Locations(Location((-30, 189.5, 0), (0, 0, 270))):
            Circle(SKETCH_3_R)
        with Locations(Location((0, 189.5, 0), (0, 0, 270))):
            Circle(SKETCH_3_R)
        with Locations(Location((30, 189.5, 0), (0, 0, 270))):
            Circle(SKETCH_3_R)
        with Locations(Location((60, 189.5, 0), (0, 0, 270))):
            Circle(SKETCH_3_R)
        with Locations(Location((90, 189.5, 0), (0, 0, 270))):
            Circle(SKETCH_3_R)
    extrude(amount=-CUT_EXTRUDE_1419_DEPTH, mode=Mode.SUBTRACT)

    # 面取り1
    chamfer_1_edges = [part.edges().sort_by_distance(p)[0] for p in [
        (-103, 1.6, 275.5),
        (-103, 1.6, -275.5),
        (103, 1.6, -275.5),
        (103, 1.6, 275.5),
    ]]
    chamfer(chamfer_1_edges, length=CHAMFER_1_SIZE)


solid = part.part
